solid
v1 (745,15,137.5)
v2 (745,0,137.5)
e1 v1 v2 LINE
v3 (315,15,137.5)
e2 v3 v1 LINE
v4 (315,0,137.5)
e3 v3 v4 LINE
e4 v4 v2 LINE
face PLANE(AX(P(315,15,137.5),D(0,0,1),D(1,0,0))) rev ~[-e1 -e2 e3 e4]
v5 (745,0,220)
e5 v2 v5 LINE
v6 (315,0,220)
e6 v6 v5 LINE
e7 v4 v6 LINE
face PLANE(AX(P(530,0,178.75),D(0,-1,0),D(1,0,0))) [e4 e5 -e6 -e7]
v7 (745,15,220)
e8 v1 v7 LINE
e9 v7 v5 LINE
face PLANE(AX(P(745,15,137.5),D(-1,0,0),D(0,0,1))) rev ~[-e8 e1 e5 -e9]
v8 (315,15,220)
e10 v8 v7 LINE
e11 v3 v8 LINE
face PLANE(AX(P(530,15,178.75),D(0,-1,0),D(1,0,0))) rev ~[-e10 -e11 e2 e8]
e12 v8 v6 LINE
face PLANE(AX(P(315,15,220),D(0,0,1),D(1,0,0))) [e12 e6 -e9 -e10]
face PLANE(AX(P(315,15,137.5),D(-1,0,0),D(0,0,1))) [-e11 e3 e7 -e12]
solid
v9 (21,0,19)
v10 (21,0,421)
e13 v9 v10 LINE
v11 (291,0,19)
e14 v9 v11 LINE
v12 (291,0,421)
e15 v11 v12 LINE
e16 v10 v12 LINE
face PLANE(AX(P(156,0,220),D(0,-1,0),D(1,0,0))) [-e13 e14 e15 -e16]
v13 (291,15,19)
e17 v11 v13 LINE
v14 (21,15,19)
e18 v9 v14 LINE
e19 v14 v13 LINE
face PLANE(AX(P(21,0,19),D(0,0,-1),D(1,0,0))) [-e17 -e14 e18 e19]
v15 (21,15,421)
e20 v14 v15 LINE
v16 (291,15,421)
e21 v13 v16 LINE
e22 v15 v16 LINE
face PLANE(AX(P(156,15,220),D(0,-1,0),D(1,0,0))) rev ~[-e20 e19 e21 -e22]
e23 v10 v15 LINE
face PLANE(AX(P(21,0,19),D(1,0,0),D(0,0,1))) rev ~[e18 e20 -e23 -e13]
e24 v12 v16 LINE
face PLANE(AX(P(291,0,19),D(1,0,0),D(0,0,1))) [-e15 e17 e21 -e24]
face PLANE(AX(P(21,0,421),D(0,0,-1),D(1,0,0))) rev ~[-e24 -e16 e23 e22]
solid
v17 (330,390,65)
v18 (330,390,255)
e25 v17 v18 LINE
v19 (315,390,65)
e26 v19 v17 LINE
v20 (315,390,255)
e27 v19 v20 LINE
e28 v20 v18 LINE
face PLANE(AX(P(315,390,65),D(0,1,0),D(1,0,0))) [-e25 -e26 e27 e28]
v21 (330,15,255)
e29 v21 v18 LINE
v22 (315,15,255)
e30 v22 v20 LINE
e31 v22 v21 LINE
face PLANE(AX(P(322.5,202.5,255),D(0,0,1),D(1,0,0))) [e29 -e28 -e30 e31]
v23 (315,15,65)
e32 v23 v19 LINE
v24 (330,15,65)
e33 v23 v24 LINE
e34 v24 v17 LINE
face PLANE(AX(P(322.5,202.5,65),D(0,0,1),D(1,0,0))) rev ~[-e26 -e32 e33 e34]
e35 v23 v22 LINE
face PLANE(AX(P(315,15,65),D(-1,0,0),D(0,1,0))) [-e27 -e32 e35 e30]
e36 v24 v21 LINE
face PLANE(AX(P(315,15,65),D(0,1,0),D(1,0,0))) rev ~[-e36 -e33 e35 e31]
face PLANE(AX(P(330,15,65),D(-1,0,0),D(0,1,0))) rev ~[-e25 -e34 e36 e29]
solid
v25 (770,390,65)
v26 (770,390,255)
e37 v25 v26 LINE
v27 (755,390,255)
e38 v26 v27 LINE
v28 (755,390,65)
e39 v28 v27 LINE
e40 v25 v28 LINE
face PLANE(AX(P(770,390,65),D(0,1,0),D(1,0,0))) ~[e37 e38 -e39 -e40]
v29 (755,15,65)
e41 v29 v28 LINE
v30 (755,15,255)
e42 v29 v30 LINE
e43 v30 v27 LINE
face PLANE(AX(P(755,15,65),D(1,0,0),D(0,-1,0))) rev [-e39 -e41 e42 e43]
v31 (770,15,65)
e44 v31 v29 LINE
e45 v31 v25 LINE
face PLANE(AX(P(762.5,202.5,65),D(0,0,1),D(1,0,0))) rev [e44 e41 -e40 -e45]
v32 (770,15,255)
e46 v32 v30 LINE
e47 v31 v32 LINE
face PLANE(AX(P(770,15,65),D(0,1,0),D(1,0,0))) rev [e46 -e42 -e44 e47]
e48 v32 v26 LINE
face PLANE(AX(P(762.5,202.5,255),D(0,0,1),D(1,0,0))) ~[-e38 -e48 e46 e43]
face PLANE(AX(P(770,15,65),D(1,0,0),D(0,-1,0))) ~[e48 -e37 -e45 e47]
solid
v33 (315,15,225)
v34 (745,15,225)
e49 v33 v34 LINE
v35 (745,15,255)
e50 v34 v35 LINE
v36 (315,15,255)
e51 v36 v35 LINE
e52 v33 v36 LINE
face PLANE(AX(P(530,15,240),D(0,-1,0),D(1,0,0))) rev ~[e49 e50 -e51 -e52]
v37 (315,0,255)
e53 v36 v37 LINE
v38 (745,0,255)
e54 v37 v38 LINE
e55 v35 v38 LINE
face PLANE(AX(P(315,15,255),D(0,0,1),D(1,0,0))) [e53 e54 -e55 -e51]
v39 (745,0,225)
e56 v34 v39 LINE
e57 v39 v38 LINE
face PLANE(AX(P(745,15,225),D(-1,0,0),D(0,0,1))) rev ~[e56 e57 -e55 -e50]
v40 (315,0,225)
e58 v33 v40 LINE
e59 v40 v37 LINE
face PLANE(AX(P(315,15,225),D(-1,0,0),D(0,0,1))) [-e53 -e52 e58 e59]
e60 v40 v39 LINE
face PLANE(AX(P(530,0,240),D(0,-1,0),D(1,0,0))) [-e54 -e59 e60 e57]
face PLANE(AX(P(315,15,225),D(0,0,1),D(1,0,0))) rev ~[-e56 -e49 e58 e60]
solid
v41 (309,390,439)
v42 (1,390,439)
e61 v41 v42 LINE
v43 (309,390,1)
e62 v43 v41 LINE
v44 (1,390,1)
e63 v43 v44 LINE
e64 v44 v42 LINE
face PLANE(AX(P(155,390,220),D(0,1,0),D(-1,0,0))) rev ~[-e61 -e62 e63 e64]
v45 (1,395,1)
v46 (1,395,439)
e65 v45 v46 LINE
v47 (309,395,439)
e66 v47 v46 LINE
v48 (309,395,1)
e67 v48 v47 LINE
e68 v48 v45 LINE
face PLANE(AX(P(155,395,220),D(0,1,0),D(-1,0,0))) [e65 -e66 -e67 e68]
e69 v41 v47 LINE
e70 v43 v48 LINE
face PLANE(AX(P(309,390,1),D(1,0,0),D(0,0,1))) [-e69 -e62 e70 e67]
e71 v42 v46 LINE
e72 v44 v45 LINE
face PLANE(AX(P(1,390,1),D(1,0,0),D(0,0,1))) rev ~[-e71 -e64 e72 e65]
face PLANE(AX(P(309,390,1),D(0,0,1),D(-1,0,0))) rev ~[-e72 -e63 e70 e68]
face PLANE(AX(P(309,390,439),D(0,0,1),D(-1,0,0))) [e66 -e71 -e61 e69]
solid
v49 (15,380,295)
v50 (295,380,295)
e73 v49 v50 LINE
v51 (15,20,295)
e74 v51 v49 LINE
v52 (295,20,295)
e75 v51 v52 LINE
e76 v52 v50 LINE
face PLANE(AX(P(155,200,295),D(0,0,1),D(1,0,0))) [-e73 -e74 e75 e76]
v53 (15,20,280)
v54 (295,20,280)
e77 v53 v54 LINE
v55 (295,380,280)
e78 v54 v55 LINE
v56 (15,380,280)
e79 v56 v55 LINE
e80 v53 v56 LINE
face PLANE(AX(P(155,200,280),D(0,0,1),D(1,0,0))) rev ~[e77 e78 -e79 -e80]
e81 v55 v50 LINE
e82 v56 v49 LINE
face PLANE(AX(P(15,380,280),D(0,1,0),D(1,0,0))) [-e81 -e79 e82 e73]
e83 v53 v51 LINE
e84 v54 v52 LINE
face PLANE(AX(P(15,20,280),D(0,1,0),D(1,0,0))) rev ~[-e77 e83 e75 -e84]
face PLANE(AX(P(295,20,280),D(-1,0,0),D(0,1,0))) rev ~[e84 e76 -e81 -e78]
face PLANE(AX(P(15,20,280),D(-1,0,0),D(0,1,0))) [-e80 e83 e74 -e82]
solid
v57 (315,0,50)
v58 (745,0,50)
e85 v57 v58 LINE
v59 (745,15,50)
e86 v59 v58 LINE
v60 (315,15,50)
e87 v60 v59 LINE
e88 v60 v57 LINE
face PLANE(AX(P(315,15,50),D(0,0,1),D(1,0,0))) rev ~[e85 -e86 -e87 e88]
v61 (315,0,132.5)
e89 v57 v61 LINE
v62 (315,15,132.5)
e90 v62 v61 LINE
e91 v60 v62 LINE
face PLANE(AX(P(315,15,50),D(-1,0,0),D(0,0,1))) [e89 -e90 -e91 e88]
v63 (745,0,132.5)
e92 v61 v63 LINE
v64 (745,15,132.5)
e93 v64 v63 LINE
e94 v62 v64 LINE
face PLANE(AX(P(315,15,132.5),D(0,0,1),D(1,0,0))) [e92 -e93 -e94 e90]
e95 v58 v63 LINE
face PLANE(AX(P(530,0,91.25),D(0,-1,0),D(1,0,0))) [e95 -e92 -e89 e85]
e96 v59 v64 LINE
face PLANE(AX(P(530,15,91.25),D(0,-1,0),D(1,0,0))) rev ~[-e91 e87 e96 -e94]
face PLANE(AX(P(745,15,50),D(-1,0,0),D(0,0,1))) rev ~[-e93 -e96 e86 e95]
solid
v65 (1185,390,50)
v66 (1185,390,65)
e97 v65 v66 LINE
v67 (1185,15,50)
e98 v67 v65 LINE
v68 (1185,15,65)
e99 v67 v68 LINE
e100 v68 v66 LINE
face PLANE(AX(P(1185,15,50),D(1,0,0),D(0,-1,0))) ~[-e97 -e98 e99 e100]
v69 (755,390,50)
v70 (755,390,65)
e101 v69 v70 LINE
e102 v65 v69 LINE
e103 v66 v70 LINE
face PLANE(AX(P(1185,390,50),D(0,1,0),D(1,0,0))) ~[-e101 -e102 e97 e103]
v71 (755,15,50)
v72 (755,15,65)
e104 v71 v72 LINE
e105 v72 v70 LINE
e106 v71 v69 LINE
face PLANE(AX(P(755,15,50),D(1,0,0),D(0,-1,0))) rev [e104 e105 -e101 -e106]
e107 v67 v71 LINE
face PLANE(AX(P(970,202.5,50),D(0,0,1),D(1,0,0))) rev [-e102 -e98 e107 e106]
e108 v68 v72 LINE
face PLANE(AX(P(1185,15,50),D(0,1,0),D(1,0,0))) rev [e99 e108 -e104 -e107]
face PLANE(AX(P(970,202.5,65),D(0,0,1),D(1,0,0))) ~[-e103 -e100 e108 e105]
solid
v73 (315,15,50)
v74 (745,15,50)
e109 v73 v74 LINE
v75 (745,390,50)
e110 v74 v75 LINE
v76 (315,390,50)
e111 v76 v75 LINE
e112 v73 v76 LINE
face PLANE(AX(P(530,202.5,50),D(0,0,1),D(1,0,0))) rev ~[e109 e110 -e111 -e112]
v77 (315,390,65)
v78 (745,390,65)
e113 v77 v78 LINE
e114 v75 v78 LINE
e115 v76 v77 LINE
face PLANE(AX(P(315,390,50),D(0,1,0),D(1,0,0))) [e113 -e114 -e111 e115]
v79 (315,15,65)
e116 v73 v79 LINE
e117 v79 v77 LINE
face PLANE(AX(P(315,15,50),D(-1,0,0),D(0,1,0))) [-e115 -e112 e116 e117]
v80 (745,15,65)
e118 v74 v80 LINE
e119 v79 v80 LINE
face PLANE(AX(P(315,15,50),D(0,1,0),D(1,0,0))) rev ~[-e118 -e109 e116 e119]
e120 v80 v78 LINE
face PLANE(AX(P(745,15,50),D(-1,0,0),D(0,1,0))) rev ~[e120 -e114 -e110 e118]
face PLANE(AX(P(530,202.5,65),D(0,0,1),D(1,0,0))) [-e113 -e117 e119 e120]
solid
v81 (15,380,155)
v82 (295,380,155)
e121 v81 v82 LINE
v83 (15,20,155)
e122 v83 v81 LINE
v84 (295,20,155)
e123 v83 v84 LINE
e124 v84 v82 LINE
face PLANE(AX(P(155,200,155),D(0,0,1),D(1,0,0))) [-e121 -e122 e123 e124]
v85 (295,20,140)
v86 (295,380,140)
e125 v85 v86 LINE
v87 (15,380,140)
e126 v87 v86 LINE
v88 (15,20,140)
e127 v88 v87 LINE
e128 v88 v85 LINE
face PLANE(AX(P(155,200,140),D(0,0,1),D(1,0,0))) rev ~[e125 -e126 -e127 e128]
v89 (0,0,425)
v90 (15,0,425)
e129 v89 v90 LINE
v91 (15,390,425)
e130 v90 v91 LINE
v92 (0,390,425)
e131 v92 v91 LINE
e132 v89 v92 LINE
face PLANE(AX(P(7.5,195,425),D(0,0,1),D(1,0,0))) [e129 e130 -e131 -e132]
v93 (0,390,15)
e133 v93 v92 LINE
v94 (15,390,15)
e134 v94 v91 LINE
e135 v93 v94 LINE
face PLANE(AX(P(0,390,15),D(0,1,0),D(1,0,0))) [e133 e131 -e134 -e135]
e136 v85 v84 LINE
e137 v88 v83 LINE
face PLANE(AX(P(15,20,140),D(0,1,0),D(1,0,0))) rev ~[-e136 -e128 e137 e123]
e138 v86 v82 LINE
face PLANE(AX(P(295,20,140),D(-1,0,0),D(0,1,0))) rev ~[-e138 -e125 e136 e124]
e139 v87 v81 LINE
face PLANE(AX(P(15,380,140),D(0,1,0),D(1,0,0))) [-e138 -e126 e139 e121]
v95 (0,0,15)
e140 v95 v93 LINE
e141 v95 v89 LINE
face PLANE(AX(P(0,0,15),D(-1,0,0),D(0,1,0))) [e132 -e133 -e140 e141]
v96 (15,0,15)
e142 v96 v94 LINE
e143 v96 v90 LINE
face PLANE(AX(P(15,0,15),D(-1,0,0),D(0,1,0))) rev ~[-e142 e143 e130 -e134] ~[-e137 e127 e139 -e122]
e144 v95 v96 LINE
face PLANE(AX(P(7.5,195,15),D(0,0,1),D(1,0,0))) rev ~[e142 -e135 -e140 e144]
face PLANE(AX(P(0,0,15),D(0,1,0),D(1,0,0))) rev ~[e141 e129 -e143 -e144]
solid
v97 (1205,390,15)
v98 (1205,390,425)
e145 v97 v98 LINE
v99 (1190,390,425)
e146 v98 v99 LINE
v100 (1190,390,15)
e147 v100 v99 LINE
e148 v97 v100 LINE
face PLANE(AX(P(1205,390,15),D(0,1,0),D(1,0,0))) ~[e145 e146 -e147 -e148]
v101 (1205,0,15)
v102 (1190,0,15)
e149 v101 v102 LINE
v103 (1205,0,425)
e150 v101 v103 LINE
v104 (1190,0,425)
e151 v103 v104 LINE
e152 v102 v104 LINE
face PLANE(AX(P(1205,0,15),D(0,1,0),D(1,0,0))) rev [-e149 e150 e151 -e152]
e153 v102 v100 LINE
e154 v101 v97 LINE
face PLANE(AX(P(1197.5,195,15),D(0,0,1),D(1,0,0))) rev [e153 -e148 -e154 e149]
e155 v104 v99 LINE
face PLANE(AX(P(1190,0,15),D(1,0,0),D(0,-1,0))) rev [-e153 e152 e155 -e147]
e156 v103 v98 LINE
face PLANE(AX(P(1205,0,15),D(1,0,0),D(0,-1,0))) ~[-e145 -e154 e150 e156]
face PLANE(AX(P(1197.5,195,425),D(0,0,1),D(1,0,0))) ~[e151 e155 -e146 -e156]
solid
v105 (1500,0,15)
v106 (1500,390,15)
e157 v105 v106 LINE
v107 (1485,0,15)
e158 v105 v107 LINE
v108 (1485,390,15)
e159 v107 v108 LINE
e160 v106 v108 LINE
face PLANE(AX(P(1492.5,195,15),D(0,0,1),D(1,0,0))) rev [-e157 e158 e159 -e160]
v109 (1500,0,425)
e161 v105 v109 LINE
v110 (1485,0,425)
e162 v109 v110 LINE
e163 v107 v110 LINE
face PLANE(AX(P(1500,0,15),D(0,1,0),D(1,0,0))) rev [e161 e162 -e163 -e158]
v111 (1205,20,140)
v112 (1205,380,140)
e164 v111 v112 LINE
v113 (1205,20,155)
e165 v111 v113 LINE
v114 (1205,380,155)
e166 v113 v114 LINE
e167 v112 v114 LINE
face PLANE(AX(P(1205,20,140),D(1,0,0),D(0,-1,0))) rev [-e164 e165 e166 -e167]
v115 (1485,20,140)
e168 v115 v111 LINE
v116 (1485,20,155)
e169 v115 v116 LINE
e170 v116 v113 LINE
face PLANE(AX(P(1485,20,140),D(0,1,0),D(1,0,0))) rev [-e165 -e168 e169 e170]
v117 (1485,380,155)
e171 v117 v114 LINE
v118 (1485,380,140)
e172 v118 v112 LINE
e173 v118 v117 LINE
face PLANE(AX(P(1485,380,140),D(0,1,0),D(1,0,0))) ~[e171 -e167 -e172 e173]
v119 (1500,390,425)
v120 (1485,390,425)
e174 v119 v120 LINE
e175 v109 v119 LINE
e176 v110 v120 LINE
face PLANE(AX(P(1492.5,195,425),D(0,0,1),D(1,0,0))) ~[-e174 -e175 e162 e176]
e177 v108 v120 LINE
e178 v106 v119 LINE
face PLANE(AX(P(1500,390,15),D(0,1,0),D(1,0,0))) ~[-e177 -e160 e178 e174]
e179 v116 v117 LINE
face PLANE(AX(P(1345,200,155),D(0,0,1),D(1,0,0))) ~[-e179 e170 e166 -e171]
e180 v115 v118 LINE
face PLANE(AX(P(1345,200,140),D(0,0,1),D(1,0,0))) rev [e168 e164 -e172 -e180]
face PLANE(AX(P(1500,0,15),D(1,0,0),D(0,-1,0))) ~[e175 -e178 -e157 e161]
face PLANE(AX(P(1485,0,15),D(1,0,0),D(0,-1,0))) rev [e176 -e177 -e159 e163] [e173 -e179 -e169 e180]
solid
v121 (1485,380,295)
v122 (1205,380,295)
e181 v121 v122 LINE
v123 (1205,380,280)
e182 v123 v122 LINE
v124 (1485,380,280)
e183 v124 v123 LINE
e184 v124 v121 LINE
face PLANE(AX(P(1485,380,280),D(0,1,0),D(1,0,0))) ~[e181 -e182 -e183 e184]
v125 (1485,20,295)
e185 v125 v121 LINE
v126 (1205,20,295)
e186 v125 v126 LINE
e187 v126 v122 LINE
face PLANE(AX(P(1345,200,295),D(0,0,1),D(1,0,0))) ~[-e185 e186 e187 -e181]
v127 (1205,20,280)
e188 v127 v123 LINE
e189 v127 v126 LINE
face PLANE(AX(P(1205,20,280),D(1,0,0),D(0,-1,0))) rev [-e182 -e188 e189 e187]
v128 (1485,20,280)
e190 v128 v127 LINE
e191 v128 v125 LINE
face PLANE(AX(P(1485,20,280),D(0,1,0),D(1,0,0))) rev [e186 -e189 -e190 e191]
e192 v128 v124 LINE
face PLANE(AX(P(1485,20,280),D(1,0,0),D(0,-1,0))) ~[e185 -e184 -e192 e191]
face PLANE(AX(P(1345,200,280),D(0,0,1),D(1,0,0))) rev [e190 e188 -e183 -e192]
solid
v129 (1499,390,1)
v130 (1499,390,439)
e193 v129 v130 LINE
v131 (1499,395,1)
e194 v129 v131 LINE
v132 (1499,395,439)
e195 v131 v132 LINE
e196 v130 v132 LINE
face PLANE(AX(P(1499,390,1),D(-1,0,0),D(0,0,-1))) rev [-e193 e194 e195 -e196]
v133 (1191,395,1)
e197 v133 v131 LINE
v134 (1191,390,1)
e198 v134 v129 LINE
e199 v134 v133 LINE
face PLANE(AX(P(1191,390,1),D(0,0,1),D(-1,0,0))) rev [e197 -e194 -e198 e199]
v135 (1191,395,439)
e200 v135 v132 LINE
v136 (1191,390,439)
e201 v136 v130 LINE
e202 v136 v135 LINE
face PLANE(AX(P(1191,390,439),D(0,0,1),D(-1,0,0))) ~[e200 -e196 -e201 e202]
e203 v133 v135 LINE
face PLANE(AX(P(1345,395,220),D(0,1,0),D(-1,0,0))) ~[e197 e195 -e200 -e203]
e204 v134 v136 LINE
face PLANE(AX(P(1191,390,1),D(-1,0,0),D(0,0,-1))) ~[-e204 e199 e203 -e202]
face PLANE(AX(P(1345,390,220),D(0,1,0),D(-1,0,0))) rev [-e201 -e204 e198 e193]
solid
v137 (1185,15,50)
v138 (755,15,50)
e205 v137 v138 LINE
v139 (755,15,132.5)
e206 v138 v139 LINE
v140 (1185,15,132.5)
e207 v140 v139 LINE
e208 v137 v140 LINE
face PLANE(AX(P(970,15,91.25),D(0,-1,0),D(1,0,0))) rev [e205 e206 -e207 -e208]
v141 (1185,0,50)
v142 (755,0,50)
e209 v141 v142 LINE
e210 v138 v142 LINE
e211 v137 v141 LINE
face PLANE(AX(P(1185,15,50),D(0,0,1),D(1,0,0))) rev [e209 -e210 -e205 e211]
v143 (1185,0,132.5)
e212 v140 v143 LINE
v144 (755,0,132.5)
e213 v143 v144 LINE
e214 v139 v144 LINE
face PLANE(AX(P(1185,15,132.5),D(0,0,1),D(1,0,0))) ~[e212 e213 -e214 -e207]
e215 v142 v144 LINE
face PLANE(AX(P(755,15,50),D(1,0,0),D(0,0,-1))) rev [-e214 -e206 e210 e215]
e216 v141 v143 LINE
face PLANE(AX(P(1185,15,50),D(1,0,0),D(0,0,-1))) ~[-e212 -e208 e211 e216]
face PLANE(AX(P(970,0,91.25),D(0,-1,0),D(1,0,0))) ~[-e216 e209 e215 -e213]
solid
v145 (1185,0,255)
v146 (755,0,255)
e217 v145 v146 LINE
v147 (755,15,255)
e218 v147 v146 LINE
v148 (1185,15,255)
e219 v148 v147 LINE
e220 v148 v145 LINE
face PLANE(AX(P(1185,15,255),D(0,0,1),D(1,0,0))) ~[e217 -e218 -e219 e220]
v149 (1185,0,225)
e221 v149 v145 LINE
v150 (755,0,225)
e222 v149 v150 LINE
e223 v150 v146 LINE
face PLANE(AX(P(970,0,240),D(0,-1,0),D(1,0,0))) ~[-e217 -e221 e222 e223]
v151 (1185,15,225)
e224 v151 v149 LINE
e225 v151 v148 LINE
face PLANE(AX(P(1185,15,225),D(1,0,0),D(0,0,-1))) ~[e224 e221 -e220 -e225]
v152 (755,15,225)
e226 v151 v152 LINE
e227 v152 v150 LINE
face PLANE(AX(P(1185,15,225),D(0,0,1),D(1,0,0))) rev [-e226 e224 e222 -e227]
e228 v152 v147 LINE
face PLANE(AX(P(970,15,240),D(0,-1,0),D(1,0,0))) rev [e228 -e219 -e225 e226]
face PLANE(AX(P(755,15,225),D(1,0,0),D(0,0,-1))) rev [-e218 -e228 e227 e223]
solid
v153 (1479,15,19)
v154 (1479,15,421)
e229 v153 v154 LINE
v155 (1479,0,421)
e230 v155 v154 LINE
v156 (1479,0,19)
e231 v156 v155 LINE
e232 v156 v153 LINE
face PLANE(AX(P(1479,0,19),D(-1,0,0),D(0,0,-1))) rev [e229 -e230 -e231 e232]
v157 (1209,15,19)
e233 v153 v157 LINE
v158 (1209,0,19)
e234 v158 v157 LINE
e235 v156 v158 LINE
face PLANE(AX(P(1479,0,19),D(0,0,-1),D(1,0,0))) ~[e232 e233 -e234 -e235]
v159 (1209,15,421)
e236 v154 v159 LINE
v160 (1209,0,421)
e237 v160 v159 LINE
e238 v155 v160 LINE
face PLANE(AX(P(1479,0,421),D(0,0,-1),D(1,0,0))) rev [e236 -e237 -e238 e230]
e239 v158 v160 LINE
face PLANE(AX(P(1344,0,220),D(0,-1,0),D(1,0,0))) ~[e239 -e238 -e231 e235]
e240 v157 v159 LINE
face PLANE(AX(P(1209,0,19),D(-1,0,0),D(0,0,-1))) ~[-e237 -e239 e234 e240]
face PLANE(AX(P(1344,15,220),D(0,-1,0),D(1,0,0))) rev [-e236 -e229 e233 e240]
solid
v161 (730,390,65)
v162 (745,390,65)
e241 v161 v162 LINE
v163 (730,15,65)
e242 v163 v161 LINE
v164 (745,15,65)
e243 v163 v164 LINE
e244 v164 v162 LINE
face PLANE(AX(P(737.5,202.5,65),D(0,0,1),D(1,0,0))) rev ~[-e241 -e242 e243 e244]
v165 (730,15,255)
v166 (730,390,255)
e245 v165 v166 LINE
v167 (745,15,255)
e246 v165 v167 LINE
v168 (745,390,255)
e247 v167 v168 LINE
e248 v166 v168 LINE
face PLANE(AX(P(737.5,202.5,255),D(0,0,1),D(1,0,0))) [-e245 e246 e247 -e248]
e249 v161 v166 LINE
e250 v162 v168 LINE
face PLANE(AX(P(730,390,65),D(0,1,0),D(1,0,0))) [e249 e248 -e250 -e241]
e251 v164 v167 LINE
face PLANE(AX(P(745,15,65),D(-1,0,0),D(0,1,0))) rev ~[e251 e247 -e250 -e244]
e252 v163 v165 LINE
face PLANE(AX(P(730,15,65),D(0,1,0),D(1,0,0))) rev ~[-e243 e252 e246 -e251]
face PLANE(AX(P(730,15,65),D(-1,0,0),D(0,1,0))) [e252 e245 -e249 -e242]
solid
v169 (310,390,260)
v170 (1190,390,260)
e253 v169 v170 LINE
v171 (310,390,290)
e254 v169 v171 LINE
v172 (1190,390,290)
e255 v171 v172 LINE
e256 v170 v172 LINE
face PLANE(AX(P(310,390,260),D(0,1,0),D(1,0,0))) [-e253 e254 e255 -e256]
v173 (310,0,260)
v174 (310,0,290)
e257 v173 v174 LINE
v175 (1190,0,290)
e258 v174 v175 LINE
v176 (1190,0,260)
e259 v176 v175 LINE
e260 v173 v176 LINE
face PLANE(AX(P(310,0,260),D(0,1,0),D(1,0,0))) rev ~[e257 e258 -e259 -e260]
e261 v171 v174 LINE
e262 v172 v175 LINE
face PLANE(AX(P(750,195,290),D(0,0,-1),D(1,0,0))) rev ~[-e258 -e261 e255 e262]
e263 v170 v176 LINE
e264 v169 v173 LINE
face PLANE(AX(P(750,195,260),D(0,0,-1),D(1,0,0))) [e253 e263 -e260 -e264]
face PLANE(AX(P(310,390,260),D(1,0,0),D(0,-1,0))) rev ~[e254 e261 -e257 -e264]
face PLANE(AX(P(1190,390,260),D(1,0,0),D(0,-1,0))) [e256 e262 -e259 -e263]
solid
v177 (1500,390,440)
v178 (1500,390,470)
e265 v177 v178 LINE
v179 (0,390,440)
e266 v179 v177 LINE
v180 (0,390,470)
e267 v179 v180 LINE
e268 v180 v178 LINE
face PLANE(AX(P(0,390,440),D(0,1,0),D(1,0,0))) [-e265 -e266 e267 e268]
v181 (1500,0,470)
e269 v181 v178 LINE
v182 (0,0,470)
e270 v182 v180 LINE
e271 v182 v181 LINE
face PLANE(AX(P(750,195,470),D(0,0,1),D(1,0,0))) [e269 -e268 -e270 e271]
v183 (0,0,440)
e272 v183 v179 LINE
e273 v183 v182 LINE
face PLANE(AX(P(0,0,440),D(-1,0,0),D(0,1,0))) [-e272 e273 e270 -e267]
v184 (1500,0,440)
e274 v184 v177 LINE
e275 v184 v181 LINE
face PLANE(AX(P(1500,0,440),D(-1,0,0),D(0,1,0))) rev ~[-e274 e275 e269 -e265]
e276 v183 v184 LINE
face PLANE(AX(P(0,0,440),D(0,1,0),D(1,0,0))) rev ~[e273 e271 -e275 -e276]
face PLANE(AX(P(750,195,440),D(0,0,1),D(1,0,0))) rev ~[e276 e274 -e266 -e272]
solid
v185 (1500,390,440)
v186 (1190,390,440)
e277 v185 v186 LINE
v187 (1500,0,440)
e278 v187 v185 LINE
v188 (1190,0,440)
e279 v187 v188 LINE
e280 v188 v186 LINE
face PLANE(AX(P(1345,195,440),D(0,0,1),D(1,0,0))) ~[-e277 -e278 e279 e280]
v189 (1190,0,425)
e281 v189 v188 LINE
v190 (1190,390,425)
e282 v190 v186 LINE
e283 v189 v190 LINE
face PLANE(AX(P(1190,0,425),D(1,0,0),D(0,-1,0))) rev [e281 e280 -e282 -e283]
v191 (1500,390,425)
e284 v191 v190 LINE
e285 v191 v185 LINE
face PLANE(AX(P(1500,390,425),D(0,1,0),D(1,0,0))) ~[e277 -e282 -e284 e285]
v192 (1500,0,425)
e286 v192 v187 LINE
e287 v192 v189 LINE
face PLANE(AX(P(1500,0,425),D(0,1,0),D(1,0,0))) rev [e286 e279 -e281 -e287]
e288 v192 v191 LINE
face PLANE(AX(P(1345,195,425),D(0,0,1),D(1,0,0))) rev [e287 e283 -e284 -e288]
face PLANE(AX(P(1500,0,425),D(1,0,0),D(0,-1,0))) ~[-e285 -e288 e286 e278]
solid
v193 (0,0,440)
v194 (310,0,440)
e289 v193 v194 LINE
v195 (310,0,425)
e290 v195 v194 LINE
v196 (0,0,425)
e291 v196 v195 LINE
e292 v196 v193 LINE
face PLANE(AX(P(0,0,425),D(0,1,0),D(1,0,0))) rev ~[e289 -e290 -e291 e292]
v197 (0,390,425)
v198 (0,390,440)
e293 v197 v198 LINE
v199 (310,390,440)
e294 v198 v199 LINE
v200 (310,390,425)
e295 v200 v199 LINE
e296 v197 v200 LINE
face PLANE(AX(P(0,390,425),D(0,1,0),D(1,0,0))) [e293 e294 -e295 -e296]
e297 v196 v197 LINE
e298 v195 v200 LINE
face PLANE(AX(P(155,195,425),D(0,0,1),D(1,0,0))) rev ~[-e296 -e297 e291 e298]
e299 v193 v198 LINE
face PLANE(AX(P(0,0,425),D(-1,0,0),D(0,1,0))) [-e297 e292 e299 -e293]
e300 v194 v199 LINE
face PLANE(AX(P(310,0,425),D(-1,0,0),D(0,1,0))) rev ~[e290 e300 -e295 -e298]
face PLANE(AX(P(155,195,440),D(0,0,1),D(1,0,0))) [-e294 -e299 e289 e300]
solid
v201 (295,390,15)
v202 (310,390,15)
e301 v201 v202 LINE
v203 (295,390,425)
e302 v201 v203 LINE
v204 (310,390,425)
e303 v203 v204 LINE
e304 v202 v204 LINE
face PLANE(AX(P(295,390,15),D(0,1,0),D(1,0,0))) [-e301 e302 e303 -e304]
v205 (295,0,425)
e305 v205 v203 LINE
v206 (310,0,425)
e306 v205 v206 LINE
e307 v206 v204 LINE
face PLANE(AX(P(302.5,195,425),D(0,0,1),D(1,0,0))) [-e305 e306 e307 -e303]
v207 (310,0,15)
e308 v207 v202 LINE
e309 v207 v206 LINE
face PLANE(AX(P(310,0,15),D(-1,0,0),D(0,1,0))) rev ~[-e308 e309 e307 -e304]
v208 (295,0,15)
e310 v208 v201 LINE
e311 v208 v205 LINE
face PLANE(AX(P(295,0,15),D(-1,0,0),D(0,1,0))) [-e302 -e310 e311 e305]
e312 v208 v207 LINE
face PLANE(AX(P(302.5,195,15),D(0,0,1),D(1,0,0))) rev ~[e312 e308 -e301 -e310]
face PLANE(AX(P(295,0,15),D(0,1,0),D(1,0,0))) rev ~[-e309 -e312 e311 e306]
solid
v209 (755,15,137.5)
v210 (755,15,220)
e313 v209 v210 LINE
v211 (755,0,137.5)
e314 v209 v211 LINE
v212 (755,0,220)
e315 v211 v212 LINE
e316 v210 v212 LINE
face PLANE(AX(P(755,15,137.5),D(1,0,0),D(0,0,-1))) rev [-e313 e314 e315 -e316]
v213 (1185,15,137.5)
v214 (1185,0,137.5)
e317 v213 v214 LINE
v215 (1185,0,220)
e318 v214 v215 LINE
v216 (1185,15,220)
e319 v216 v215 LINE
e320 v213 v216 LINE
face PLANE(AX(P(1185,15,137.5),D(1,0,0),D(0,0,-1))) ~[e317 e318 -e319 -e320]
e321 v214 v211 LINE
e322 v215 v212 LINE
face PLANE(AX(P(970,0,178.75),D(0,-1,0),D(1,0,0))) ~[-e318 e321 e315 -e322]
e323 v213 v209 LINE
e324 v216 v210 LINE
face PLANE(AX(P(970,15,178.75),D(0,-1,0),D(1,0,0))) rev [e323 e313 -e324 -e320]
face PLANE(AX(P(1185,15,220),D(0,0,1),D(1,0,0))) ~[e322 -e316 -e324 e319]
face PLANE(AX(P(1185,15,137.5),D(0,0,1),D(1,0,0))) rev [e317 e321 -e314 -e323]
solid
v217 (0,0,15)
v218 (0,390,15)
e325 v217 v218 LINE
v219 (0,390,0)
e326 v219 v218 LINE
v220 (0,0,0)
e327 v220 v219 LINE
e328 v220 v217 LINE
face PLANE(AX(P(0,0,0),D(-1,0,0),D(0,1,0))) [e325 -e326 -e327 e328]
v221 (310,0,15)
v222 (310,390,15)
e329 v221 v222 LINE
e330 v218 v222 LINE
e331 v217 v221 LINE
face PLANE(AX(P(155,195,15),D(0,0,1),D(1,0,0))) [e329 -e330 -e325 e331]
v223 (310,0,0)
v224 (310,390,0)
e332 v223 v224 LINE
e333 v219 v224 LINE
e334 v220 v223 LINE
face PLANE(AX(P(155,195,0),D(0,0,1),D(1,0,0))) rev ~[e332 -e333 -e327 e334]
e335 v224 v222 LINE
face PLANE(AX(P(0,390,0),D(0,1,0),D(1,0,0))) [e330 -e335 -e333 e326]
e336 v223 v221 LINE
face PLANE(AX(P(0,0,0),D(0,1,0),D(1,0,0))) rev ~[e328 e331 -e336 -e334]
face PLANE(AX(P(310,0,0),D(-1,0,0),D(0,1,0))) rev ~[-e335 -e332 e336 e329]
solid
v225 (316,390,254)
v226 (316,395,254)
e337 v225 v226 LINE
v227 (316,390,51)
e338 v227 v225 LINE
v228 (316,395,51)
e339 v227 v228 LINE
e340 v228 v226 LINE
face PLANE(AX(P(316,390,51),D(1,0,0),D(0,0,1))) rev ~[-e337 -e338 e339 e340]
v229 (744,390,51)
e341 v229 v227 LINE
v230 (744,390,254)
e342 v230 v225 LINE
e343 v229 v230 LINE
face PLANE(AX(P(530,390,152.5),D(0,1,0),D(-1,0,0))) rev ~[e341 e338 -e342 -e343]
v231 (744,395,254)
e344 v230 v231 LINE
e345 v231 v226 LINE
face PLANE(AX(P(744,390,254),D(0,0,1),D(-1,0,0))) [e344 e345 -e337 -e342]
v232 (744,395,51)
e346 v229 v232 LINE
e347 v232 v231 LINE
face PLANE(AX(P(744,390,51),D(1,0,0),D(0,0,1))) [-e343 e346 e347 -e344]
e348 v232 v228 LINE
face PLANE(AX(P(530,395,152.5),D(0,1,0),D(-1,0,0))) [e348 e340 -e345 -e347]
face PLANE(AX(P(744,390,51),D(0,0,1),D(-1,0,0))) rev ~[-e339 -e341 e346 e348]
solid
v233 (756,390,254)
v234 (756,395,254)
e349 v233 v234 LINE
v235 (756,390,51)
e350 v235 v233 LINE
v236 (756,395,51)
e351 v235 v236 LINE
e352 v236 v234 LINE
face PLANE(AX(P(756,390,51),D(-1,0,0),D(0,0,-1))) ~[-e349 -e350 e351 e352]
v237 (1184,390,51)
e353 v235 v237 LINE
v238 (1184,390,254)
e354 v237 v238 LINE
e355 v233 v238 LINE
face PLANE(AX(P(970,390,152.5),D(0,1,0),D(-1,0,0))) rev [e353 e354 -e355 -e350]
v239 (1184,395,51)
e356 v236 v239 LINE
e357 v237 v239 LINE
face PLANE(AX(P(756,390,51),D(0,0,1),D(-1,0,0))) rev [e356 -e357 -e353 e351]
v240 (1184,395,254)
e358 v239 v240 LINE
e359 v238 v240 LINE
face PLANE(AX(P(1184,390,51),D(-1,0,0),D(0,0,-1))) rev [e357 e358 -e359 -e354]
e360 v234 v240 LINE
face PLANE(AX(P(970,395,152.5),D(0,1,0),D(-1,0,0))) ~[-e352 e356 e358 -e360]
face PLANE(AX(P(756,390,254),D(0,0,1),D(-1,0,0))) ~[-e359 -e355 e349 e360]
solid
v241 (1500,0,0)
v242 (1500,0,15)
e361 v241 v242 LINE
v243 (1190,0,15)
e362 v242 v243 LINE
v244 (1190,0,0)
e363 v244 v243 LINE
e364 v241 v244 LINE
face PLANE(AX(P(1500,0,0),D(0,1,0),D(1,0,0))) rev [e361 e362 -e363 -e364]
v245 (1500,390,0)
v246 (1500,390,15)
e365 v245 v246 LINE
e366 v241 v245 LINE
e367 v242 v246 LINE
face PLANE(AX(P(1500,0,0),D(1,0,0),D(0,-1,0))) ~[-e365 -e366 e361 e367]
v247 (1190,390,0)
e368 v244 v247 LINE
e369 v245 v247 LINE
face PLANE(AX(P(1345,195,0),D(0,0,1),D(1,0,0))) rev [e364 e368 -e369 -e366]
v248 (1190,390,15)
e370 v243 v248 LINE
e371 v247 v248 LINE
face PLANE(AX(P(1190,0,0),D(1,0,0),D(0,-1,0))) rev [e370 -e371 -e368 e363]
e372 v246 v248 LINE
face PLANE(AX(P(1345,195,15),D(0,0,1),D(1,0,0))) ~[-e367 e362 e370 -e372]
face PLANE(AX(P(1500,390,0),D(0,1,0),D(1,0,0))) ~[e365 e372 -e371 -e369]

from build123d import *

# Parameters (mm, degrees)
F0_W      = 310
F0_H      = 390
F1_DEPTH  = 15
F3_W      = 15
F3_H      = 390
F4_DEPTH  = 410
F5_W      = 310
F5_H      = 390
F6_DEPTH  = 15
F7_W      = 308
F7_H      = 438
F8_DEPTH  = 5
F11_W     = 280
F11_H     = 360
F12_DEPTH = 15
F13_W     = 280
F13_H     = 360
F14_DEPTH = 15
F15_W     = 270
F15_H     = 402
F16_DEPTH = 15
F19_W     = 1500
F19_H     = 390
F20_DEPTH = 30
F22_W     = 880
F22_H     = 390
F23_DEPTH = 30
F25_W     = 430
F25_H     = 375
F26_DEPTH = 15
F27_W     = 15
F27_H     = 375
F28_DEPTH = 190
F29_W     = 430
F29_H     = 82.5
F30_DEPTH = 15
F29_H_2   = 30
F31_W     = 428
F31_H     = 203
F32_DEPTH = 5


with BuildPart() as f1:
    # F0 (on Top) → F1 (new body)
    with BuildSketch(Plane.XY):
        with Locations((155, 195)):
            Rectangle(F0_W, F0_H)
    extrude(amount=F1_DEPTH)


with BuildPart() as f4:
    # F3 (on offset) → F4 (new body)
    with BuildSketch(Plane.XY.offset(15)):
        with Locations((7.5, 195)):
            Rectangle(F3_W, F3_H)
    extrude(amount=F4_DEPTH)

    # F11 (on offset) → F12 (join)
    with BuildSketch(Plane.XY.offset(140)):
        with Locations((155, 200)):
            Rectangle(F11_W, F11_H)
    extrude(amount=F12_DEPTH)


with BuildPart() as f4b:
    # F3 (on offset) → F4, piece 2 (new body)
    with BuildSketch(Plane.XY.offset(15)):
        with Locations((302.5, 195)):
            Rectangle(F3_W, F3_H)
    extrude(amount=F4_DEPTH)


with BuildPart() as f6:
    # F5 (on face) → F6 (new body)
    with BuildSketch(Plane.XY.offset(425)):
        with Locations((155, 195)):
            Rectangle(F5_W, F5_H)
    extrude(amount=F6_DEPTH)


with BuildPart() as f8:
    # F7 (on face) → F8 (new body)
    with BuildSketch(Plane(origin=(0, 390, 0), x_dir=(-1, 0, 0), z_dir=(0, 1, 0))):
        with Locations((-155, 220)):
            Rectangle(F7_W, F7_H)
    extrude(amount=F8_DEPTH)


with BuildPart() as f14:
    # F13 (on offset) → F14 (new body)
    with BuildSketch(Plane.XY.offset(280)):
        with Locations((155, 200)):
            Rectangle(F13_W, F13_H)
    extrude(amount=F14_DEPTH)


with BuildPart() as f16:
    # F15 (on face) → F16 (new body)
    with BuildSketch(Plane.XZ):
        with Locations((156, 220)):
            Rectangle(F15_W, F15_H)
    extrude(amount=-F16_DEPTH)


with BuildPart() as f18_1:
    # F18: instance of F1
    add(f1.part.mirror(Plane.YZ.offset(750)))


with BuildPart() as f18_2:
    # F18: instance of F4
    add(f4.part.mirror(Plane.YZ.offset(750)))


with BuildPart() as f18_3:
    # F18: instance of F4b
    add(f4b.part.mirror(Plane.YZ.offset(750)))


with BuildPart() as f18_4:
    # F18: instance of F8
    add(f8.part.mirror(Plane.YZ.offset(750)))


with BuildPart() as f18_5:
    # F18: instance of F6
    add(f6.part.mirror(Plane.YZ.offset(750)))


with BuildPart() as f18_6:
    # F18: instance of F14
    add(f14.part.mirror(Plane.YZ.offset(750)))


with BuildPart() as f18_7:
    # F18: instance of F16
    add(f16.part.mirror(Plane.YZ.offset(750)))


with BuildPart() as f20:
    # F19 (on face) → F20 (new body)
    with BuildSketch(Plane.XY.offset(440)):
        with Locations((750, 195)):
            Rectangle(F19_W, F19_H)
    extrude(amount=F20_DEPTH)


with BuildPart() as f23:
    # F22 (on offset) → F23 (new body)
    with BuildSketch(Plane(origin=(0, 0, 260), x_dir=(1, 0, 0), z_dir=(0, 0, -1))):
        with Locations((750, -195)):
            Rectangle(F22_W, F22_H)
    extrude(amount=-F23_DEPTH)


with BuildPart() as f26:
    # F25 (on offset) → F26 (new body)
    with BuildSketch(Plane.XY.offset(50)):
        with Locations((530, 202.5)):
            Rectangle(F25_W, F25_H)
    extrude(amount=F26_DEPTH)


with BuildPart() as f28:
    # F27 (on face) → F28 (new body)
    with BuildSketch(Plane.XY.offset(65)):
        with Locations((322.5, 202.5)):
            Rectangle(F27_W, F27_H)
    extrude(amount=F28_DEPTH)


with BuildPart() as f28b:
    # F27 (on face) → F28, piece 2 (new body)
    with BuildSketch(Plane.XY.offset(65)):
        with Locations((737.5, 202.5)):
            Rectangle(F27_W, F27_H)
    extrude(amount=F28_DEPTH)


with BuildPart() as f30:
    # F29 (on face) → F30 (new body)
    with BuildSketch(Plane.XZ.offset(-15)):
        with Locations((530, 91.25)):
            Rectangle(F29_W, F29_H)
    extrude(amount=F30_DEPTH)


with BuildPart() as f30b:
    # F29 (on face) → F30, piece 2 (new body)
    with BuildSketch(Plane.XZ.offset(-15)):
        with Locations((530, 178.75)):
            Rectangle(F29_W, F29_H)
    extrude(amount=F30_DEPTH)


with BuildPart() as f30c:
    # F29 (on face) → F30, piece 3 (new body)
    with BuildSketch(Plane.XZ.offset(-15)):
        with Locations((530, 240)):
            Rectangle(F29_W, F29_H_2)
    extrude(amount=F30_DEPTH)


with BuildPart() as f32:
    # F31 (on face) → F32 (new body)
    with BuildSketch(Plane(origin=(0, 390, 0), x_dir=(-1, 0, 0), z_dir=(0, 1, 0))):
        with Locations((-530, 152.5)):
            Rectangle(F31_W, F31_H)
    extrude(amount=F32_DEPTH)


with BuildPart() as f33_1:
    # F33: instance of F26
    add(f26.part.mirror(Plane.YZ.offset(750)))


with BuildPart() as f33_2:
    # F33: instance of F30c
    add(f30c.part.mirror(Plane.YZ.offset(750)))


with BuildPart() as f33_3:
    # F33: instance of F30b
    add(f30b.part.mirror(Plane.YZ.offset(750)))


with BuildPart() as f33_4:
    # F33: instance of F30
    add(f30.part.mirror(Plane.YZ.offset(750)))


with BuildPart() as f33_5:
    # F33: instance of F28b
    add(f28b.part.mirror(Plane.YZ.offset(750)))


with BuildPart() as f33_6:
    # F33: instance of F32
    add(f32.part.mirror(Plane.YZ.offset(750)))


solid = Compound([f1.part, f4.part, f4b.part, f6.part, f8.part, f14.part, f16.part, f18_1.part, f18_2.part, f18_3.part, f18_4.part, f18_5.part, f18_6.part, f18_7.part, f20.part, f23.part, f26.part, f28.part, f28b.part, f30.part, f30b.part, f30c.part, f32.part, f33_1.part, f33_2.part, f33_3.part, f33_4.part, f33_5.part, f33_6.part])
